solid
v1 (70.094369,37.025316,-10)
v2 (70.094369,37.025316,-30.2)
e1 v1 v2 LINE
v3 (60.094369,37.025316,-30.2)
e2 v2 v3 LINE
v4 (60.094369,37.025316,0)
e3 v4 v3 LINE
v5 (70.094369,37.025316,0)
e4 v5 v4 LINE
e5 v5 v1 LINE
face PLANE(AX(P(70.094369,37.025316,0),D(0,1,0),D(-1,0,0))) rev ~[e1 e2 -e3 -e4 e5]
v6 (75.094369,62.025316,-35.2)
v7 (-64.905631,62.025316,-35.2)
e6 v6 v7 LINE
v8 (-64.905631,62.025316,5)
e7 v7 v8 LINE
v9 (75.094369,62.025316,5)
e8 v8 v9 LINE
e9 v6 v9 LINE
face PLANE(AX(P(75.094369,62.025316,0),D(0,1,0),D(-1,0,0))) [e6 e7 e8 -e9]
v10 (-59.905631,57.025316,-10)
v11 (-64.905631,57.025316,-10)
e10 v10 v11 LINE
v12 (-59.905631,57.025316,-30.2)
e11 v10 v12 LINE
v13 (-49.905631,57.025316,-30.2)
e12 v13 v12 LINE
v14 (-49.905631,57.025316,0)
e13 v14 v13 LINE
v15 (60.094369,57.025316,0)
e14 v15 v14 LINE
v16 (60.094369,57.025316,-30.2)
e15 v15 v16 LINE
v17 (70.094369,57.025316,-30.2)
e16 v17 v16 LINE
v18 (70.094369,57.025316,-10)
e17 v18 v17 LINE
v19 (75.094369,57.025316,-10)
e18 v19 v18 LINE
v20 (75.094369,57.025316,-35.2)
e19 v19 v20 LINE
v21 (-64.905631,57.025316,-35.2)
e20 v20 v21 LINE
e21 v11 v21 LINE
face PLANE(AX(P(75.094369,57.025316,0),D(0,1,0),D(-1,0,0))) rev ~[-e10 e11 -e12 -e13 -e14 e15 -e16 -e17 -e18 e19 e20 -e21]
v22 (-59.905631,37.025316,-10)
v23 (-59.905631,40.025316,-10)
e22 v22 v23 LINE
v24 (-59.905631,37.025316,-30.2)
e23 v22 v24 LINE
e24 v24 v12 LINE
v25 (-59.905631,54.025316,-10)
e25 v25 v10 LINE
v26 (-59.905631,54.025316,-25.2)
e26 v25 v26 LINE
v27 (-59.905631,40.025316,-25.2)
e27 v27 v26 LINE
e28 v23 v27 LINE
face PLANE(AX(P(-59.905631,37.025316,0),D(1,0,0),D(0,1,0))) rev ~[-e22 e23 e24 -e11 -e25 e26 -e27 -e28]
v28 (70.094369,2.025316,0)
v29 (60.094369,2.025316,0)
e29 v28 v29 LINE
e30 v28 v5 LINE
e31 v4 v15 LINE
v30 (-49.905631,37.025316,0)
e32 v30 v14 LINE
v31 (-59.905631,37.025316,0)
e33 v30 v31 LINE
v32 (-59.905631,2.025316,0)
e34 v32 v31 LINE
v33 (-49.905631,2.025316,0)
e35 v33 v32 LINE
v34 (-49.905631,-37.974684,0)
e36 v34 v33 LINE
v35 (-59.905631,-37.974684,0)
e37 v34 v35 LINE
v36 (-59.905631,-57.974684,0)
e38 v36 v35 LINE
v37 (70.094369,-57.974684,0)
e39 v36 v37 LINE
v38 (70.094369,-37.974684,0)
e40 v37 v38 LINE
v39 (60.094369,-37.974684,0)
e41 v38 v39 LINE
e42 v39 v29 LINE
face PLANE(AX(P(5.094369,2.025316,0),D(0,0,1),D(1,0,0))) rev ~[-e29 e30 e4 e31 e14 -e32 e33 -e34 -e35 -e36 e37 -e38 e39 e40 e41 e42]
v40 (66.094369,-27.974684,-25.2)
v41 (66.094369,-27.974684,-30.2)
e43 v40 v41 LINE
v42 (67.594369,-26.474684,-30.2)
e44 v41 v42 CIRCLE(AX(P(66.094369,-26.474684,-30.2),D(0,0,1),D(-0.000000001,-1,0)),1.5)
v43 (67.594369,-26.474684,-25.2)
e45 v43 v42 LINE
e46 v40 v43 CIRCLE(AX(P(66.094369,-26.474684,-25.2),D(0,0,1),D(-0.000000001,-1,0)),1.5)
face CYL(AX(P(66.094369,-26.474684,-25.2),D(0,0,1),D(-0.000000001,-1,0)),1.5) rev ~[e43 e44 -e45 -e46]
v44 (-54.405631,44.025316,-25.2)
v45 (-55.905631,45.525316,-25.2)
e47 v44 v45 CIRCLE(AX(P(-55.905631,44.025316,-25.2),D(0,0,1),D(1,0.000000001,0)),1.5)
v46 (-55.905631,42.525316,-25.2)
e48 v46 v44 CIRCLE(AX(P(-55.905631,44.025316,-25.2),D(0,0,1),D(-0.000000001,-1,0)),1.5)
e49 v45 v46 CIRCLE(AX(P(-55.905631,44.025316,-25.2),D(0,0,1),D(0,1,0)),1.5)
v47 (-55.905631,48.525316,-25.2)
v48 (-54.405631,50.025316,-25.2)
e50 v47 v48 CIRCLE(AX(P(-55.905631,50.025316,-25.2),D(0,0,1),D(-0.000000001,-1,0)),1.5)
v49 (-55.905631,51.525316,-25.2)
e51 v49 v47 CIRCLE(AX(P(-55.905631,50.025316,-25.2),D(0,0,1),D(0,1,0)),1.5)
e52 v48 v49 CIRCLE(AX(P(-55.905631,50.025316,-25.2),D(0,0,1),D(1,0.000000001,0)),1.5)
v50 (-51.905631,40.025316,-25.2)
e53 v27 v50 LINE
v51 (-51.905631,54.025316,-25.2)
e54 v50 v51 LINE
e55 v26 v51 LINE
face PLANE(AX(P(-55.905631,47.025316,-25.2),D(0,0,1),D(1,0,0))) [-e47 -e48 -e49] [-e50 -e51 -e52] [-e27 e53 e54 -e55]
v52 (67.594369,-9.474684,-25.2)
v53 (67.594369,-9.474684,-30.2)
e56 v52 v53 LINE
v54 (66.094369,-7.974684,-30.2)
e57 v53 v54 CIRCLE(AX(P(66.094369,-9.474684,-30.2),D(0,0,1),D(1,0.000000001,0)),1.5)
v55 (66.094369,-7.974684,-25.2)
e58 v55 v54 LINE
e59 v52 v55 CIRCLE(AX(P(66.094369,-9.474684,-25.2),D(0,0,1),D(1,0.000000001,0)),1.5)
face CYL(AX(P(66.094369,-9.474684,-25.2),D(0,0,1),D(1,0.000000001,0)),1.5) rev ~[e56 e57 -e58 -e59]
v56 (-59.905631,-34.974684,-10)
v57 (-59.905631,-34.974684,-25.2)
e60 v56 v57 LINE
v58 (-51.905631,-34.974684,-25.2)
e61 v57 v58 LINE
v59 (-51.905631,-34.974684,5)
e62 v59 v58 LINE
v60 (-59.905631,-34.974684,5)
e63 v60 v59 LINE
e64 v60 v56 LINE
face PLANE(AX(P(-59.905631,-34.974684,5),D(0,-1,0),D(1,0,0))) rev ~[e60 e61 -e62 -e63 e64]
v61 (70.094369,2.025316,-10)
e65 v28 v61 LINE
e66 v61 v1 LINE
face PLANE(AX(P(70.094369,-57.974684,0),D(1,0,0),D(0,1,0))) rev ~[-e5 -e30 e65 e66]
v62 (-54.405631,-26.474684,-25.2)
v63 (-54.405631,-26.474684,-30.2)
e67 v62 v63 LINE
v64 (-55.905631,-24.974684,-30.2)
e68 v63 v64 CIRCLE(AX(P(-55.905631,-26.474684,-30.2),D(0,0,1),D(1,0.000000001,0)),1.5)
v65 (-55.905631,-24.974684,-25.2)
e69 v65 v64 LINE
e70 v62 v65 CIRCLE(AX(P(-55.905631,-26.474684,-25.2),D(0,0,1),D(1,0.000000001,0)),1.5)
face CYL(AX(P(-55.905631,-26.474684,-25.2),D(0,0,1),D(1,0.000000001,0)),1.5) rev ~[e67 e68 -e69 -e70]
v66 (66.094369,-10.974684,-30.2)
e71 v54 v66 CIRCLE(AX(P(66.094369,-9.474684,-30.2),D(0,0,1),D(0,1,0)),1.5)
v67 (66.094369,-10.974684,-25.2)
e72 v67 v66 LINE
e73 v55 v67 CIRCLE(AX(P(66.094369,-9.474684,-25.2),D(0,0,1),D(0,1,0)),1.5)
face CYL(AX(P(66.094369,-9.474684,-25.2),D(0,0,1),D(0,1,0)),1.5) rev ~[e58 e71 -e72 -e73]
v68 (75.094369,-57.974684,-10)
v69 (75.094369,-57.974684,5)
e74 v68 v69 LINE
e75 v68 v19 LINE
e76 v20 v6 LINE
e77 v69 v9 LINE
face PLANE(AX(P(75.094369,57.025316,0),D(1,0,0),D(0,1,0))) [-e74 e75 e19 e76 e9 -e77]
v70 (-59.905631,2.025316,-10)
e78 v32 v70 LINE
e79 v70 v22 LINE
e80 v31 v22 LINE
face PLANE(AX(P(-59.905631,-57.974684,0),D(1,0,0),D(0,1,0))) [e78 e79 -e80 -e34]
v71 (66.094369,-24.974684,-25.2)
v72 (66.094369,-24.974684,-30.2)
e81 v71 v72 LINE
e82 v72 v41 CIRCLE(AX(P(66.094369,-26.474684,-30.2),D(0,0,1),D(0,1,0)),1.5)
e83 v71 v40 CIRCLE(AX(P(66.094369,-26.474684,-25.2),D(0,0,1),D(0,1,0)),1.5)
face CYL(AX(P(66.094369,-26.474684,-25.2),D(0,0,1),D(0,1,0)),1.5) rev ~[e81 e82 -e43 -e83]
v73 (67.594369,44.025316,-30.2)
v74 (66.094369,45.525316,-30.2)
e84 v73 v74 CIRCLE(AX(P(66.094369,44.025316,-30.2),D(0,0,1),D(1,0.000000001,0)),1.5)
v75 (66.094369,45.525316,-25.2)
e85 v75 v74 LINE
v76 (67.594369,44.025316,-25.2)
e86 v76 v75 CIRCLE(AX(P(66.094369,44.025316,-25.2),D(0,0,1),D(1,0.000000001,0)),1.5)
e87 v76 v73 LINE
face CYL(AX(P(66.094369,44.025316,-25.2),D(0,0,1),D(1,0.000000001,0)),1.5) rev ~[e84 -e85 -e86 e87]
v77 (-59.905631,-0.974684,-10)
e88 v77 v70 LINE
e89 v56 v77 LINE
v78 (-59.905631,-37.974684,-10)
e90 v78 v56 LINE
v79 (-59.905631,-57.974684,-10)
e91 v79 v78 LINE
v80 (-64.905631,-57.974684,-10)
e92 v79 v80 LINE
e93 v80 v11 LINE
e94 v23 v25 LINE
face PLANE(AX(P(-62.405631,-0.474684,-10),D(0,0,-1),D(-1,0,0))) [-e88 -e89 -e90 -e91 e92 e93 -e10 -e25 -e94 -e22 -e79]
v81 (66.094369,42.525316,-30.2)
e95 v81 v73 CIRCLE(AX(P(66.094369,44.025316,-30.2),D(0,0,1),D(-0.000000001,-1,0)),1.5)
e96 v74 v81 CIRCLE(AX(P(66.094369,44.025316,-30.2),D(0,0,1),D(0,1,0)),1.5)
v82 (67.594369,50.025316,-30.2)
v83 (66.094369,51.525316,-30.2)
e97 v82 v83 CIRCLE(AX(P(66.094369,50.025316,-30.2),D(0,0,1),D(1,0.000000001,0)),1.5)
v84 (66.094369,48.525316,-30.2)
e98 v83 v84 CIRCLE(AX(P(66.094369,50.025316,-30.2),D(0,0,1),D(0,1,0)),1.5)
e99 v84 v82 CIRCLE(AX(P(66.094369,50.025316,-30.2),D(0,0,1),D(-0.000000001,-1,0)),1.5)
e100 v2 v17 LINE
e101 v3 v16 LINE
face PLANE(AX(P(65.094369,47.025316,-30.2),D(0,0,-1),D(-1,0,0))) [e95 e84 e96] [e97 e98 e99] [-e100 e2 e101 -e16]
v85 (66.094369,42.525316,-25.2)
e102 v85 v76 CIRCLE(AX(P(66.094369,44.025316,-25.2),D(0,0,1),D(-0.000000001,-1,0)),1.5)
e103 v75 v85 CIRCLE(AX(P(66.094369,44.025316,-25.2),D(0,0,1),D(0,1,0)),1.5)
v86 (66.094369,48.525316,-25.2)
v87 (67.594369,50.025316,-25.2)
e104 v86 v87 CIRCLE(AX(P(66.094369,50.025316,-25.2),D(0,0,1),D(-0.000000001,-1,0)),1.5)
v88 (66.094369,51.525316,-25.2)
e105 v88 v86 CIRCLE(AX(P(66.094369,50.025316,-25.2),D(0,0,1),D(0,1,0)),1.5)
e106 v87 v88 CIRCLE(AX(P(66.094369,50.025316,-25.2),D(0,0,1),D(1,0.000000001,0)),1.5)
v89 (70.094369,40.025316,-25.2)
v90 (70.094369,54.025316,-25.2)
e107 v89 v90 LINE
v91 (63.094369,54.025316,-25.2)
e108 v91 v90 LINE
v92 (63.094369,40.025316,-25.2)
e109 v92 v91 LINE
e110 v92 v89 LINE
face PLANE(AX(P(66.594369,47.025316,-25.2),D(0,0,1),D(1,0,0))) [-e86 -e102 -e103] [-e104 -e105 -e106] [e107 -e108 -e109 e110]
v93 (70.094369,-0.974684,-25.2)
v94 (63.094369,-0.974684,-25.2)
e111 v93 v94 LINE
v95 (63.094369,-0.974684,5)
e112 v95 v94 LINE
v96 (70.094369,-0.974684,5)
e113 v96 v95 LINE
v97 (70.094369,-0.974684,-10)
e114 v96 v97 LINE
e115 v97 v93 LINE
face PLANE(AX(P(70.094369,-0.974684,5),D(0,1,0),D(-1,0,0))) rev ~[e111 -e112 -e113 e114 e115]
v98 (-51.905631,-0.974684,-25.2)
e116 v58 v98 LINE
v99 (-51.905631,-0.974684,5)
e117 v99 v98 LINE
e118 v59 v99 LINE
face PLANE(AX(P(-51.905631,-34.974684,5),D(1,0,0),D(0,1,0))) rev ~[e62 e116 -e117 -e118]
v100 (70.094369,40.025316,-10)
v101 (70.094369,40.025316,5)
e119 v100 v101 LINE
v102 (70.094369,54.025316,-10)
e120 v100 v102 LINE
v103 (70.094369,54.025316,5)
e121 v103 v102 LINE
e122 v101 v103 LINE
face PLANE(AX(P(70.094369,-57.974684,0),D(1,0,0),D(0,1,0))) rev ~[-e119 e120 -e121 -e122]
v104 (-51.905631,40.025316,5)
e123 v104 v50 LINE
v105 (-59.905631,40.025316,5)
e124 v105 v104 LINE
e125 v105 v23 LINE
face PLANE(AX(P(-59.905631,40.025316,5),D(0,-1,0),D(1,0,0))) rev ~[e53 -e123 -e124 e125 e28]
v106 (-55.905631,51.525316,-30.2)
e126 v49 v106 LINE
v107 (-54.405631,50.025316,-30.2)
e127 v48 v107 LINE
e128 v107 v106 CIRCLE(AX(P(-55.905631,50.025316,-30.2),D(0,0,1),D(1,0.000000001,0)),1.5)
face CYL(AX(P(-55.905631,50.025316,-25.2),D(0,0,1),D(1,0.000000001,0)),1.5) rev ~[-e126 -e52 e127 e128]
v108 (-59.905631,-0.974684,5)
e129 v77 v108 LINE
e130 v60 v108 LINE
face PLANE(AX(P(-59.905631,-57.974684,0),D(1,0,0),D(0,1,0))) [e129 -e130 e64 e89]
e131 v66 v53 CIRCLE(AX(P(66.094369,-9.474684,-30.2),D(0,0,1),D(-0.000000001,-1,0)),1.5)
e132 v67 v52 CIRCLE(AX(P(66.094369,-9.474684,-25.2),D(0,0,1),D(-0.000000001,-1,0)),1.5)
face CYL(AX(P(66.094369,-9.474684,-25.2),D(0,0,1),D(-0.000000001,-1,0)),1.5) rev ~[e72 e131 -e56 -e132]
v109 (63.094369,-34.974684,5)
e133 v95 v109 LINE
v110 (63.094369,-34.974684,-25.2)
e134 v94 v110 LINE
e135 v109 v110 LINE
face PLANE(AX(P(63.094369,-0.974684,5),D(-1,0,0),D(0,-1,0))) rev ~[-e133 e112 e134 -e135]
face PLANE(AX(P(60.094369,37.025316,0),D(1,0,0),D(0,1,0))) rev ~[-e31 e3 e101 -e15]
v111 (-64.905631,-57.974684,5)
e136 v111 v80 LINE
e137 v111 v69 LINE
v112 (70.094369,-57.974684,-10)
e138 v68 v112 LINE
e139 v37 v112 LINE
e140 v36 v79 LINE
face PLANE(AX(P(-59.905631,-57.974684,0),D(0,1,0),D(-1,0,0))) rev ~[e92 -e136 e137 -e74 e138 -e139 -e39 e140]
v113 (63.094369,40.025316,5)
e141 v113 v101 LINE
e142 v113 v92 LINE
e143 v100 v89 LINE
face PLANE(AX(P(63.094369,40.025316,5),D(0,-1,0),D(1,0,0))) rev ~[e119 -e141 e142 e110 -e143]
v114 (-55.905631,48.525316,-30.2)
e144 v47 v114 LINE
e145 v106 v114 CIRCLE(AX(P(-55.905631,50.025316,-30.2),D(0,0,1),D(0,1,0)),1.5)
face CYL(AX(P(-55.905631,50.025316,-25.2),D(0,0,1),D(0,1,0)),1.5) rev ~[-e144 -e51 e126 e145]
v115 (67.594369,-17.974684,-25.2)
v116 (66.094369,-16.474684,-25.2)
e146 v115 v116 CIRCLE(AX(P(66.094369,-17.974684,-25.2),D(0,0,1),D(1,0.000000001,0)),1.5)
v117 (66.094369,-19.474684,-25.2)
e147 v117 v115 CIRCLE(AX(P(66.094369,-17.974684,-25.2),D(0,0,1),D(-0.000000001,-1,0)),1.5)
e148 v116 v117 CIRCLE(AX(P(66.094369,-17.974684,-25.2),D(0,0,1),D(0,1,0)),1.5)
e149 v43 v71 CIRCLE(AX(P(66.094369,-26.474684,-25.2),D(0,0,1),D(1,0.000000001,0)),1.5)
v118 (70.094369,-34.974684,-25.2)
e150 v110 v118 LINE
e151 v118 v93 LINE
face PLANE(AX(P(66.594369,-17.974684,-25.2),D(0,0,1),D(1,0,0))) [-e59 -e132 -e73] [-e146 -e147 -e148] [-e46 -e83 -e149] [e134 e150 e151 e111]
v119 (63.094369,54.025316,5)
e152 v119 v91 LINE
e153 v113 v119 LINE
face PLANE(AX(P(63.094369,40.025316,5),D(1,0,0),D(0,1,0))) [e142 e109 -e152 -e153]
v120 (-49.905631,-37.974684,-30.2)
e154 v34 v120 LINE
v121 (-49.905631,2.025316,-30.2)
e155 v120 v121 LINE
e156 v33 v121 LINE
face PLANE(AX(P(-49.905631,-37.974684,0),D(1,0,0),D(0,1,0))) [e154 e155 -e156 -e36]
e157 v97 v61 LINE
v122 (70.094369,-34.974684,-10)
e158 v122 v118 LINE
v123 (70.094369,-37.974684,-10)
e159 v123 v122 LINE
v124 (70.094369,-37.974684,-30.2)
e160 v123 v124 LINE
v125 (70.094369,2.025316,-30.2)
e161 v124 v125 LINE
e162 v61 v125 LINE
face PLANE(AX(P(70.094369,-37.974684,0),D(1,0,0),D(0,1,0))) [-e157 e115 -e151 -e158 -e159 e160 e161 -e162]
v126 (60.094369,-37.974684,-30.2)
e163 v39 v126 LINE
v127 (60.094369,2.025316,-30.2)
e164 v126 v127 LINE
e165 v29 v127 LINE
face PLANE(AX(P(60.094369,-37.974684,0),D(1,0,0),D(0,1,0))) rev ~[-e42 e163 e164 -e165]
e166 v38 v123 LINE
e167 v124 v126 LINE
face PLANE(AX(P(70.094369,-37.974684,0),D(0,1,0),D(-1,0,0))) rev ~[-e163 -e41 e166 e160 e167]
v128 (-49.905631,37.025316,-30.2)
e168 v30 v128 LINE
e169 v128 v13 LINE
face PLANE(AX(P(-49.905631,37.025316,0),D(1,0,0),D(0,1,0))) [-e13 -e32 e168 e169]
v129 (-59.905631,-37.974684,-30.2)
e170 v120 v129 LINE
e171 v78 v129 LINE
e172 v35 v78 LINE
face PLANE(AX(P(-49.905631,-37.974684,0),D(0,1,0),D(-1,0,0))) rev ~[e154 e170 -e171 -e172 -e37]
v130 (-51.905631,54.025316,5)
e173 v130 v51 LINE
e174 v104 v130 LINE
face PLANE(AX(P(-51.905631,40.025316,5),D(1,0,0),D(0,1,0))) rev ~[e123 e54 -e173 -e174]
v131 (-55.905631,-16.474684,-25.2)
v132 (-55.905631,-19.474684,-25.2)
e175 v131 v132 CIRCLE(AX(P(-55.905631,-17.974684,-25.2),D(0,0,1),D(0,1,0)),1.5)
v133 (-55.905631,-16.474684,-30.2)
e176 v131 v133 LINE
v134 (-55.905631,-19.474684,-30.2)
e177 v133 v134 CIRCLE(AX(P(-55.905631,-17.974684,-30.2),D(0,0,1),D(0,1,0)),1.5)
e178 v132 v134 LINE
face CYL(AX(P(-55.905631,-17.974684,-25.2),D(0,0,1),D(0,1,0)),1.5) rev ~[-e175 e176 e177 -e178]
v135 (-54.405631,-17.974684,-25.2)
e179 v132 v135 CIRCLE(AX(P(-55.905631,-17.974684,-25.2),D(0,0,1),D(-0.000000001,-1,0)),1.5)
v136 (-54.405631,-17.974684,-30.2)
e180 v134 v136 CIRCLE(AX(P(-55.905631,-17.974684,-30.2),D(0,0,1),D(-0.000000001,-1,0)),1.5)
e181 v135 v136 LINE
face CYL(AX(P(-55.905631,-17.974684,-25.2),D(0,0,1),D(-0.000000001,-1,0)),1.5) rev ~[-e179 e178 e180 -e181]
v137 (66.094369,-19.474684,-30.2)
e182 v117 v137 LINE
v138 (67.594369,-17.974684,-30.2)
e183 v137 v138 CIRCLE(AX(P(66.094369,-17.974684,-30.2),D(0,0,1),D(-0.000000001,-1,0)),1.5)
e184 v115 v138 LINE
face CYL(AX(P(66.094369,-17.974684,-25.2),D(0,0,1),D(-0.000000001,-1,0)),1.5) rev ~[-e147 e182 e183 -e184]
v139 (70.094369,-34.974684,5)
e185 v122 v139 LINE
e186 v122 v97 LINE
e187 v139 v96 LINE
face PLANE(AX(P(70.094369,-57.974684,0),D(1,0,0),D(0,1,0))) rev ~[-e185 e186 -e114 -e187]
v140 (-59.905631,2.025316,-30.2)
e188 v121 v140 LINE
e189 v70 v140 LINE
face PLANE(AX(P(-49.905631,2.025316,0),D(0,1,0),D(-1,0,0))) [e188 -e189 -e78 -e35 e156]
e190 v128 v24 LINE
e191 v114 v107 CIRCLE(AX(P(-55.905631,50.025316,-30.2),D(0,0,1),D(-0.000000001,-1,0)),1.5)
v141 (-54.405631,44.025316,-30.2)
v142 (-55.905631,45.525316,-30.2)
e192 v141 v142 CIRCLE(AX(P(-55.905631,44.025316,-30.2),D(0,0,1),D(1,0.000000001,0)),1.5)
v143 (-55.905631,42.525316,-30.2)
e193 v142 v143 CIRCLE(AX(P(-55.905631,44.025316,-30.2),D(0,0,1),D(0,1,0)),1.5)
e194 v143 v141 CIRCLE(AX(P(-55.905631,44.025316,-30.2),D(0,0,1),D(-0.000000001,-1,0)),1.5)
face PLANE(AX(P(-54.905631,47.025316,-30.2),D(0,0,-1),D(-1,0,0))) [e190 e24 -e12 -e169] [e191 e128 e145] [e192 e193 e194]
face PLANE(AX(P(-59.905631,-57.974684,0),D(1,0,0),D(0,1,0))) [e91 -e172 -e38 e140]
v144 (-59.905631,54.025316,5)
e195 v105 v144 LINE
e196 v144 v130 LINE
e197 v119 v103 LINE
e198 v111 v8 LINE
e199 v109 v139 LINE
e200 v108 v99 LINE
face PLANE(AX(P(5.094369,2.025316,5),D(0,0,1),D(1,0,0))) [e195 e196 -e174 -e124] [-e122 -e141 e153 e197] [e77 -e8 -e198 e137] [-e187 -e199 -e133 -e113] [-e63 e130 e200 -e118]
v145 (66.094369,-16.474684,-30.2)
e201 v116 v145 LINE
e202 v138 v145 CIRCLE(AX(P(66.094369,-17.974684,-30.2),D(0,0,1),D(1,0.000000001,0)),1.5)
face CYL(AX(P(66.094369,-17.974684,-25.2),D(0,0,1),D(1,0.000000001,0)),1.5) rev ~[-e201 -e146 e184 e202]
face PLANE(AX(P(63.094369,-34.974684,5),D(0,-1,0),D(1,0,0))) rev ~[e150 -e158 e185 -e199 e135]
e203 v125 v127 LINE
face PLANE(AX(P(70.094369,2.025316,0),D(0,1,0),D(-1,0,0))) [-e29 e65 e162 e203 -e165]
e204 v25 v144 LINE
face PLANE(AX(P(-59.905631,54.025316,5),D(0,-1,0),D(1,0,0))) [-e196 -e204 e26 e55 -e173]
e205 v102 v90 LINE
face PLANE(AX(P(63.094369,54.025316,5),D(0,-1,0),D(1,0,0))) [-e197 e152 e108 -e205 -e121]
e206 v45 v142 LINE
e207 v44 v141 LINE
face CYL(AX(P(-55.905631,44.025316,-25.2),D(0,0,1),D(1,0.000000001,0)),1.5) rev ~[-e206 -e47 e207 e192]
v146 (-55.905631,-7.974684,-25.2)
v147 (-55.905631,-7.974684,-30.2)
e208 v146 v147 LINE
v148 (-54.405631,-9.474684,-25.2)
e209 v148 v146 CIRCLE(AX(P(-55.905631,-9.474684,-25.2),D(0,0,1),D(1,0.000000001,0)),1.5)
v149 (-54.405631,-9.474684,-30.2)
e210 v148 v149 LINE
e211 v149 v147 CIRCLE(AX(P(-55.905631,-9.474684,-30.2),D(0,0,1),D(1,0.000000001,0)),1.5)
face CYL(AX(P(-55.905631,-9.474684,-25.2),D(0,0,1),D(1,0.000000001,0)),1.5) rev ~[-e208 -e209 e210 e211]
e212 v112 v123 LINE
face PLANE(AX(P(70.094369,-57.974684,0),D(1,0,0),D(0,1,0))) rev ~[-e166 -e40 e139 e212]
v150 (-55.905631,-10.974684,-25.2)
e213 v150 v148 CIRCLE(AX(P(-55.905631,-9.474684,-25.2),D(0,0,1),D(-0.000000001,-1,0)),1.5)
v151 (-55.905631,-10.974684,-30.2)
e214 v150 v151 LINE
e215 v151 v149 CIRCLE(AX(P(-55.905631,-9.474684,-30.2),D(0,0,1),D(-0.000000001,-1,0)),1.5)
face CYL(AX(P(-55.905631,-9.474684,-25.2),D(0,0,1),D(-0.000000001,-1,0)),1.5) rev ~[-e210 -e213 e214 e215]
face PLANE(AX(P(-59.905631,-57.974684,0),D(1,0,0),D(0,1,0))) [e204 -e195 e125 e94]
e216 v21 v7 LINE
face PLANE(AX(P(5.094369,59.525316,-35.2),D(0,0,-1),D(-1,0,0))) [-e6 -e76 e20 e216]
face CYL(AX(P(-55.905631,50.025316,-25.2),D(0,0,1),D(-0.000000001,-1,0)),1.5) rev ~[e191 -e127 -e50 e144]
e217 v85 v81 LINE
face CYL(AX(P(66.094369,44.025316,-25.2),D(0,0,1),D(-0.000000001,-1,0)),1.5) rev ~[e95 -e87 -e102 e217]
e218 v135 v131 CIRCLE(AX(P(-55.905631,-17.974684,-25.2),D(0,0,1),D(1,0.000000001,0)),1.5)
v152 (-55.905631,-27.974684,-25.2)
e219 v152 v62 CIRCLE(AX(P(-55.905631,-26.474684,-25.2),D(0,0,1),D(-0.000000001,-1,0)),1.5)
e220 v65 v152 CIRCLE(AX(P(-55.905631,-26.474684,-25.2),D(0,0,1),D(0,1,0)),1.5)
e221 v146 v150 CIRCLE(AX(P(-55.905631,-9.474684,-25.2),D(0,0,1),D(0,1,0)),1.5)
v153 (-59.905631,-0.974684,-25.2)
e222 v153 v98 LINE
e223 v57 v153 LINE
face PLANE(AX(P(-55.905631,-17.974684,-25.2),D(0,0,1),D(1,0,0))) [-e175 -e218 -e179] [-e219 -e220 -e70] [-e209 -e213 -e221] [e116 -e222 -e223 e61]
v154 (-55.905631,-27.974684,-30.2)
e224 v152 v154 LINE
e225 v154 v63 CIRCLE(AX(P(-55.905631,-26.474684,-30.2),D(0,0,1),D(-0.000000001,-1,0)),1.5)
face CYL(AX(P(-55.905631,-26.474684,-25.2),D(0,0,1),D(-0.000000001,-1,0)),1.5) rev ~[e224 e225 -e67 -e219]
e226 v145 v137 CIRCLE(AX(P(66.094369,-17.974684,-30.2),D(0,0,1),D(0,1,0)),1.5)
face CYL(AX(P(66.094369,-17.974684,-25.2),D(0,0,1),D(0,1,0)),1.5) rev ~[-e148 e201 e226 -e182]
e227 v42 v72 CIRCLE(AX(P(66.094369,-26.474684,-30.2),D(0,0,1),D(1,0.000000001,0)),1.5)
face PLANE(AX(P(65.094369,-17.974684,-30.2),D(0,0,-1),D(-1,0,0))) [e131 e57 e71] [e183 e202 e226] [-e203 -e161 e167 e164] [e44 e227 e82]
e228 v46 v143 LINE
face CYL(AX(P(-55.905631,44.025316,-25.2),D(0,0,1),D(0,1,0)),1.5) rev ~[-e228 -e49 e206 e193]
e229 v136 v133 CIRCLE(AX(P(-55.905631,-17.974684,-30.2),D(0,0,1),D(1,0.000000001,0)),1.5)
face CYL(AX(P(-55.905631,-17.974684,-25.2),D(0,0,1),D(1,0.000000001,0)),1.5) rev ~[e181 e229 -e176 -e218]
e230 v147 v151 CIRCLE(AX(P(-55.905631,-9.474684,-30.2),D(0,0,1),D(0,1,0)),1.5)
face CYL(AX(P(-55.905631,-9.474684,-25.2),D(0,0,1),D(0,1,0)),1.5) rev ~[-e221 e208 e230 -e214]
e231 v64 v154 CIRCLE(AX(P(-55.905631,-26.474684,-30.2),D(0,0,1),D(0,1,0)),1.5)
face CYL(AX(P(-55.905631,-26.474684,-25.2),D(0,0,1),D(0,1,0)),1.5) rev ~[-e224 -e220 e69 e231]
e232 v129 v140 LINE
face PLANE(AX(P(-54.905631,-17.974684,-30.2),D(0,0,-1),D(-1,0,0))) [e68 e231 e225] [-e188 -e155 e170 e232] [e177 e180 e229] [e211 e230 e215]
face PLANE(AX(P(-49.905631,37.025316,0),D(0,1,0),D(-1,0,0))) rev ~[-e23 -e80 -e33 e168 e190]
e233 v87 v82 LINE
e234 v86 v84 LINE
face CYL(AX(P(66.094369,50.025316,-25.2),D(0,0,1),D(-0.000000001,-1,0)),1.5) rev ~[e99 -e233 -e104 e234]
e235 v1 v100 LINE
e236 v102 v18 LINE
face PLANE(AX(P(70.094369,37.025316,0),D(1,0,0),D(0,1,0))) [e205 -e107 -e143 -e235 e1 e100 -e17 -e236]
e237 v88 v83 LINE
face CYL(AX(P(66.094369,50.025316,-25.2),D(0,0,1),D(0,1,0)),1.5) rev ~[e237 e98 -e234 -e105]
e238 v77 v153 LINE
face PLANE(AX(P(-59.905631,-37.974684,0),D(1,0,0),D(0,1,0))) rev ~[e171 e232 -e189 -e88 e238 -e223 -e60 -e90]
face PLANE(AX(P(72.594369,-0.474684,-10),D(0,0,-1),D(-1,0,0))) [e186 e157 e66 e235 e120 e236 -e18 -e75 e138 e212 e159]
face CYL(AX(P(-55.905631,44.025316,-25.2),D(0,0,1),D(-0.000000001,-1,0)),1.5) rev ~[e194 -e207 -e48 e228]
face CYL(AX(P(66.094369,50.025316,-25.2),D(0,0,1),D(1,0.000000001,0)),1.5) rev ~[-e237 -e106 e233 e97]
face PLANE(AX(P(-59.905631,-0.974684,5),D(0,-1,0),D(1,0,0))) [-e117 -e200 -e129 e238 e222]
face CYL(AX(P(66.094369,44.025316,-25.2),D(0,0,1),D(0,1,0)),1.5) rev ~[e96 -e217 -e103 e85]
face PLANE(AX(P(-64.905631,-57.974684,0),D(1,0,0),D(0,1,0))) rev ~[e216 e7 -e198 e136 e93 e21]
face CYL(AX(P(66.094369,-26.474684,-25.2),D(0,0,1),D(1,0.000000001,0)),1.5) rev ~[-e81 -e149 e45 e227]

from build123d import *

# Parameters (mm, degrees)
SKETCH_1_W          = 140
SKETCH_1_H          = 120
EXTRUDE_1_DEPTH     = 5
SKETCH_2_W          = 140
SKETCH_2_H          = 5
EXTRUDE_2_DEPTH     = 35.2
SKETCH_5_W          = 10
SKETCH_5_H          = 40
SKETCH_5_H_2        = 20
EXTRUDE_3_DEPTH     = 30.2
SKETCH_6_W          = 8
SKETCH_6_H          = 14
SKETCH_6_H_2        = 34
SKETCH_6_W_2        = 7
CUT_EXTRUDE_1_DEPTH = 30.2
CUT_EXTRUDE_2_DEPTH = 102.972271659
SKETCH_11_W         = 5
SKETCH_11_H         = 115
EXTRUDE_4_DEPTH     = 10


with BuildPart() as part:
    # 스케치1 → 보스-돌출1 (new body)
    with BuildSketch(Plane.XY):
        with Locations((5.094369335, 2.025316456)):
            Rectangle(SKETCH_1_W, SKETCH_1_H)
    extrude(amount=EXTRUDE_1_DEPTH)

    # 스케치2 → 보스-돌출2 (add)
    with BuildSketch(Plane(origin=(0, 0, 0), x_dir=(-1, 0, 0), z_dir=(0, 0, -1))):
        with Locations((-5.094369335, 59.525316456)):
            Rectangle(SKETCH_2_W, SKETCH_2_H)
    extrude(amount=EXTRUDE_2_DEPTH)

    # 스케치5 → 보스-돌출3 (add)
    with BuildSketch(Plane(origin=(0, 0, 0), x_dir=(-1, 0, 0), z_dir=(0, 0, -1))):
        with Locations((-65.094369335, -17.974683544)):
            Rectangle(SKETCH_5_W, SKETCH_5_H)
        with Locations((-65.094369335, 47.025316456)):
            Rectangle(SKETCH_5_W, SKETCH_5_H_2)
        with Locations((54.905630665, -17.974683544)):
            Rectangle(SKETCH_5_W, SKETCH_5_H)
        with Locations((54.905630665, 47.025316456)):
            Rectangle(SKETCH_5_W, SKETCH_5_H_2)
    extrude(amount=EXTRUDE_3_DEPTH)

    # 스케치6 → 컷-돌출1 (cut)
    with BuildSketch(Plane.XY.offset(5)):
        with Locations((-55.905630665, 47.025316456)):
            Rectangle(SKETCH_6_W, SKETCH_6_H)
        with Locations((-55.905630665, -17.974683544)):
            Rectangle(SKETCH_6_W, SKETCH_6_H_2)
        Polygon((63.622466752, -0.974683544), (63.094369335, -0.974683544), (63.094369335, -34.974683544), (70.094369335, -34.974683544), (70.094369335, -0.974683544), align=None)
        with Locations((66.594369335, 47.025316456)):
            Rectangle(SKETCH_6_W_2, SKETCH_6_H)
    extrude(amount=-CUT_EXTRUDE_1_DEPTH, mode=Mode.SUBTRACT)

    # 스케치8 → 컷-돌출2 (cut, through all)
    with BuildSketch(Plane.XY.offset(-25.2)):
        with BuildLine():
            ThreePointArc((-54.405630665, 44.025316456), (-54.844970493, 45.085976627), (-55.905630665, 45.525316456))
            Line((-55.905630665, 45.525316456), (-55.905630665, 42.525316456))
            ThreePointArc((-55.905630665, 42.525316456), (-54.844970493, 42.964656284), (-54.405630665, 44.025316456))
        make_face()
        with BuildLine():
            Line((-55.905630665, 42.525316456), (-55.905630665, 45.525316456))
            ThreePointArc((-55.905630665, 45.525316456), (-57.405630665, 44.025316456), (-55.905630665, 42.525316456))
        make_face()
        with BuildLine():
            ThreePointArc((-54.405630665, 50.025316456), (-54.844970493, 51.085976627), (-55.905630665, 51.525316456))
            Line((-55.905630665, 51.525316456), (-55.905630665, 48.525316456))
            ThreePointArc((-55.905630665, 48.525316456), (-54.844970493, 48.964656284), (-54.405630665, 50.025316456))
        make_face()
        with BuildLine():
            Line((-55.905630665, 48.525316456), (-55.905630665, 51.525316456))
            ThreePointArc((-55.905630665, 51.525316456), (-57.405630665, 50.025316456), (-55.905630665, 48.525316456))
        make_face()
        with BuildLine():
            ThreePointArc((-54.405630665, -9.474683544), (-54.844970493, -8.414023373), (-55.905630665, -7.974683544))
            Line((-55.905630665, -7.974683544), (-55.905630665, -10.974683544))
            ThreePointArc((-55.905630665, -10.974683544), (-54.844970493, -10.535343716), (-54.405630665, -9.474683544))
        make_face()
        with BuildLine():
            Line((-55.905630665, -10.974683544), (-55.905630665, -7.974683544))
            ThreePointArc((-55.905630665, -7.974683544), (-57.405630665, -9.474683544), (-55.905630665, -10.974683544))
        make_face()
        with BuildLine():
            ThreePointArc((-54.405630665, -17.974683544), (-54.844970493, -16.914023373), (-55.905630665, -16.474683544))
            Line((-55.905630665, -16.474683544), (-55.905630665, -19.474683544))
            ThreePointArc((-55.905630665, -19.474683544), (-54.844970493, -19.035343716), (-54.405630665, -17.974683544))
        make_face()
        with BuildLine():
            Line((-55.905630665, -19.474683544), (-55.905630665, -16.474683544))
            ThreePointArc((-55.905630665, -16.474683544), (-57.405630665, -17.974683544), (-55.905630665, -19.474683544))
        make_face()
        with BuildLine():
            ThreePointArc((-54.405630665, -26.474683544), (-54.844970493, -25.414023373), (-55.905630665, -24.974683544))
            Line((-55.905630665, -24.974683544), (-55.905630665, -27.974683544))
            ThreePointArc((-55.905630665, -27.974683544), (-54.844970493, -27.535343716), (-54.405630665, -26.474683544))
        make_face()
        with BuildLine():
            Line((-55.905630665, -27.974683544), (-55.905630665, -24.974683544))
            ThreePointArc((-55.905630665, -24.974683544), (-57.405630665, -26.474683544), (-55.905630665, -27.974683544))
        make_face()
        with BuildLine():
            ThreePointArc((67.594369335, -26.474683544), (67.155029507, -25.414023373), (66.094369335, -24.974683544))
            Line((66.094369335, -24.974683544), (66.094369335, -27.974683544))
            ThreePointArc((66.094369335, -27.974683544), (67.155029507, -27.535343716), (67.594369335, -26.474683544))
        make_face()
        with BuildLine():
            Line((66.094369335, -27.974683544), (66.094369335, -24.974683544))
            ThreePointArc((66.094369335, -24.974683544), (64.594369335, -26.474683544), (66.094369335, -27.974683544))
        make_face()
        with BuildLine():
            ThreePointArc((67.594369335, -17.974683544), (67.155029507, -16.914023373), (66.094369335, -16.474683544))
            Line((66.094369335, -16.474683544), (66.094369335, -19.474683544))
            ThreePointArc((66.094369335, -19.474683544), (67.155029507, -19.035343716), (67.594369335, -17.974683544))
        make_face()
        with BuildLine():
            Line((66.094369335, -19.474683544), (66.094369335, -16.474683544))
            ThreePointArc((66.094369335, -16.474683544), (64.594369335, -17.974683544), (66.094369335, -19.474683544))
        make_face()
        with BuildLine():
            ThreePointArc((67.594369335, -9.474683544), (67.155029507, -8.414023373), (66.094369335, -7.974683544))
            Line((66.094369335, -7.974683544), (66.094369335, -10.974683544))
            ThreePointArc((66.094369335, -10.974683544), (67.155029507, -10.535343716), (67.594369335, -9.474683544))
        make_face()
        with BuildLine():
            Line((66.094369335, -10.974683544), (66.094369335, -7.974683544))
            ThreePointArc((66.094369335, -7.974683544), (64.594369335, -9.474683544), (66.094369335, -10.974683544))
        make_face()
        with BuildLine():
            ThreePointArc((67.594369335, 44.025316456), (67.155029507, 45.085976627), (66.094369335, 45.525316456))
            Line((66.094369335, 45.525316456), (66.094369335, 42.525316456))
            ThreePointArc((66.094369335, 42.525316456), (67.155029507, 42.964656284), (67.594369335, 44.025316456))
        make_face()
        with BuildLine():
            Line((66.094369335, 42.525316456), (66.094369335, 45.525316456))
            ThreePointArc((66.094369335, 45.525316456), (64.594369335, 44.025316456), (66.094369335, 42.525316456))
        make_face()
        with BuildLine():
            ThreePointArc((67.594369335, 50.025316456), (67.155029507, 51.085976627), (66.094369335, 51.525316456))
            Line((66.094369335, 51.525316456), (66.094369335, 48.525316456))
            ThreePointArc((66.094369335, 48.525316456), (67.155029507, 48.964656284), (67.594369335, 50.025316456))
        make_face()
        with BuildLine():
            Line((66.094369335, 48.525316456), (66.094369335, 51.525316456))
            ThreePointArc((66.094369335, 51.525316456), (64.594369335, 50.025316456), (66.094369335, 48.525316456))
        make_face()
    extrude(amount=-CUT_EXTRUDE_2_DEPTH, mode=Mode.SUBTRACT)

    # 스케치11 → 보스-돌출4 (add)
    with BuildSketch(Plane(origin=(0, 0, 0), x_dir=(-1, 0, 0), z_dir=(0, 0, -1))):
        with Locations((62.405630665, -0.474683544)):
            Rectangle(SKETCH_11_W, SKETCH_11_H)
        with Locations((-72.594369335, -0.474683544)):
            Rectangle(SKETCH_11_W, SKETCH_11_H)
    extrude(amount=EXTRUDE_4_DEPTH)


solid = part.part
